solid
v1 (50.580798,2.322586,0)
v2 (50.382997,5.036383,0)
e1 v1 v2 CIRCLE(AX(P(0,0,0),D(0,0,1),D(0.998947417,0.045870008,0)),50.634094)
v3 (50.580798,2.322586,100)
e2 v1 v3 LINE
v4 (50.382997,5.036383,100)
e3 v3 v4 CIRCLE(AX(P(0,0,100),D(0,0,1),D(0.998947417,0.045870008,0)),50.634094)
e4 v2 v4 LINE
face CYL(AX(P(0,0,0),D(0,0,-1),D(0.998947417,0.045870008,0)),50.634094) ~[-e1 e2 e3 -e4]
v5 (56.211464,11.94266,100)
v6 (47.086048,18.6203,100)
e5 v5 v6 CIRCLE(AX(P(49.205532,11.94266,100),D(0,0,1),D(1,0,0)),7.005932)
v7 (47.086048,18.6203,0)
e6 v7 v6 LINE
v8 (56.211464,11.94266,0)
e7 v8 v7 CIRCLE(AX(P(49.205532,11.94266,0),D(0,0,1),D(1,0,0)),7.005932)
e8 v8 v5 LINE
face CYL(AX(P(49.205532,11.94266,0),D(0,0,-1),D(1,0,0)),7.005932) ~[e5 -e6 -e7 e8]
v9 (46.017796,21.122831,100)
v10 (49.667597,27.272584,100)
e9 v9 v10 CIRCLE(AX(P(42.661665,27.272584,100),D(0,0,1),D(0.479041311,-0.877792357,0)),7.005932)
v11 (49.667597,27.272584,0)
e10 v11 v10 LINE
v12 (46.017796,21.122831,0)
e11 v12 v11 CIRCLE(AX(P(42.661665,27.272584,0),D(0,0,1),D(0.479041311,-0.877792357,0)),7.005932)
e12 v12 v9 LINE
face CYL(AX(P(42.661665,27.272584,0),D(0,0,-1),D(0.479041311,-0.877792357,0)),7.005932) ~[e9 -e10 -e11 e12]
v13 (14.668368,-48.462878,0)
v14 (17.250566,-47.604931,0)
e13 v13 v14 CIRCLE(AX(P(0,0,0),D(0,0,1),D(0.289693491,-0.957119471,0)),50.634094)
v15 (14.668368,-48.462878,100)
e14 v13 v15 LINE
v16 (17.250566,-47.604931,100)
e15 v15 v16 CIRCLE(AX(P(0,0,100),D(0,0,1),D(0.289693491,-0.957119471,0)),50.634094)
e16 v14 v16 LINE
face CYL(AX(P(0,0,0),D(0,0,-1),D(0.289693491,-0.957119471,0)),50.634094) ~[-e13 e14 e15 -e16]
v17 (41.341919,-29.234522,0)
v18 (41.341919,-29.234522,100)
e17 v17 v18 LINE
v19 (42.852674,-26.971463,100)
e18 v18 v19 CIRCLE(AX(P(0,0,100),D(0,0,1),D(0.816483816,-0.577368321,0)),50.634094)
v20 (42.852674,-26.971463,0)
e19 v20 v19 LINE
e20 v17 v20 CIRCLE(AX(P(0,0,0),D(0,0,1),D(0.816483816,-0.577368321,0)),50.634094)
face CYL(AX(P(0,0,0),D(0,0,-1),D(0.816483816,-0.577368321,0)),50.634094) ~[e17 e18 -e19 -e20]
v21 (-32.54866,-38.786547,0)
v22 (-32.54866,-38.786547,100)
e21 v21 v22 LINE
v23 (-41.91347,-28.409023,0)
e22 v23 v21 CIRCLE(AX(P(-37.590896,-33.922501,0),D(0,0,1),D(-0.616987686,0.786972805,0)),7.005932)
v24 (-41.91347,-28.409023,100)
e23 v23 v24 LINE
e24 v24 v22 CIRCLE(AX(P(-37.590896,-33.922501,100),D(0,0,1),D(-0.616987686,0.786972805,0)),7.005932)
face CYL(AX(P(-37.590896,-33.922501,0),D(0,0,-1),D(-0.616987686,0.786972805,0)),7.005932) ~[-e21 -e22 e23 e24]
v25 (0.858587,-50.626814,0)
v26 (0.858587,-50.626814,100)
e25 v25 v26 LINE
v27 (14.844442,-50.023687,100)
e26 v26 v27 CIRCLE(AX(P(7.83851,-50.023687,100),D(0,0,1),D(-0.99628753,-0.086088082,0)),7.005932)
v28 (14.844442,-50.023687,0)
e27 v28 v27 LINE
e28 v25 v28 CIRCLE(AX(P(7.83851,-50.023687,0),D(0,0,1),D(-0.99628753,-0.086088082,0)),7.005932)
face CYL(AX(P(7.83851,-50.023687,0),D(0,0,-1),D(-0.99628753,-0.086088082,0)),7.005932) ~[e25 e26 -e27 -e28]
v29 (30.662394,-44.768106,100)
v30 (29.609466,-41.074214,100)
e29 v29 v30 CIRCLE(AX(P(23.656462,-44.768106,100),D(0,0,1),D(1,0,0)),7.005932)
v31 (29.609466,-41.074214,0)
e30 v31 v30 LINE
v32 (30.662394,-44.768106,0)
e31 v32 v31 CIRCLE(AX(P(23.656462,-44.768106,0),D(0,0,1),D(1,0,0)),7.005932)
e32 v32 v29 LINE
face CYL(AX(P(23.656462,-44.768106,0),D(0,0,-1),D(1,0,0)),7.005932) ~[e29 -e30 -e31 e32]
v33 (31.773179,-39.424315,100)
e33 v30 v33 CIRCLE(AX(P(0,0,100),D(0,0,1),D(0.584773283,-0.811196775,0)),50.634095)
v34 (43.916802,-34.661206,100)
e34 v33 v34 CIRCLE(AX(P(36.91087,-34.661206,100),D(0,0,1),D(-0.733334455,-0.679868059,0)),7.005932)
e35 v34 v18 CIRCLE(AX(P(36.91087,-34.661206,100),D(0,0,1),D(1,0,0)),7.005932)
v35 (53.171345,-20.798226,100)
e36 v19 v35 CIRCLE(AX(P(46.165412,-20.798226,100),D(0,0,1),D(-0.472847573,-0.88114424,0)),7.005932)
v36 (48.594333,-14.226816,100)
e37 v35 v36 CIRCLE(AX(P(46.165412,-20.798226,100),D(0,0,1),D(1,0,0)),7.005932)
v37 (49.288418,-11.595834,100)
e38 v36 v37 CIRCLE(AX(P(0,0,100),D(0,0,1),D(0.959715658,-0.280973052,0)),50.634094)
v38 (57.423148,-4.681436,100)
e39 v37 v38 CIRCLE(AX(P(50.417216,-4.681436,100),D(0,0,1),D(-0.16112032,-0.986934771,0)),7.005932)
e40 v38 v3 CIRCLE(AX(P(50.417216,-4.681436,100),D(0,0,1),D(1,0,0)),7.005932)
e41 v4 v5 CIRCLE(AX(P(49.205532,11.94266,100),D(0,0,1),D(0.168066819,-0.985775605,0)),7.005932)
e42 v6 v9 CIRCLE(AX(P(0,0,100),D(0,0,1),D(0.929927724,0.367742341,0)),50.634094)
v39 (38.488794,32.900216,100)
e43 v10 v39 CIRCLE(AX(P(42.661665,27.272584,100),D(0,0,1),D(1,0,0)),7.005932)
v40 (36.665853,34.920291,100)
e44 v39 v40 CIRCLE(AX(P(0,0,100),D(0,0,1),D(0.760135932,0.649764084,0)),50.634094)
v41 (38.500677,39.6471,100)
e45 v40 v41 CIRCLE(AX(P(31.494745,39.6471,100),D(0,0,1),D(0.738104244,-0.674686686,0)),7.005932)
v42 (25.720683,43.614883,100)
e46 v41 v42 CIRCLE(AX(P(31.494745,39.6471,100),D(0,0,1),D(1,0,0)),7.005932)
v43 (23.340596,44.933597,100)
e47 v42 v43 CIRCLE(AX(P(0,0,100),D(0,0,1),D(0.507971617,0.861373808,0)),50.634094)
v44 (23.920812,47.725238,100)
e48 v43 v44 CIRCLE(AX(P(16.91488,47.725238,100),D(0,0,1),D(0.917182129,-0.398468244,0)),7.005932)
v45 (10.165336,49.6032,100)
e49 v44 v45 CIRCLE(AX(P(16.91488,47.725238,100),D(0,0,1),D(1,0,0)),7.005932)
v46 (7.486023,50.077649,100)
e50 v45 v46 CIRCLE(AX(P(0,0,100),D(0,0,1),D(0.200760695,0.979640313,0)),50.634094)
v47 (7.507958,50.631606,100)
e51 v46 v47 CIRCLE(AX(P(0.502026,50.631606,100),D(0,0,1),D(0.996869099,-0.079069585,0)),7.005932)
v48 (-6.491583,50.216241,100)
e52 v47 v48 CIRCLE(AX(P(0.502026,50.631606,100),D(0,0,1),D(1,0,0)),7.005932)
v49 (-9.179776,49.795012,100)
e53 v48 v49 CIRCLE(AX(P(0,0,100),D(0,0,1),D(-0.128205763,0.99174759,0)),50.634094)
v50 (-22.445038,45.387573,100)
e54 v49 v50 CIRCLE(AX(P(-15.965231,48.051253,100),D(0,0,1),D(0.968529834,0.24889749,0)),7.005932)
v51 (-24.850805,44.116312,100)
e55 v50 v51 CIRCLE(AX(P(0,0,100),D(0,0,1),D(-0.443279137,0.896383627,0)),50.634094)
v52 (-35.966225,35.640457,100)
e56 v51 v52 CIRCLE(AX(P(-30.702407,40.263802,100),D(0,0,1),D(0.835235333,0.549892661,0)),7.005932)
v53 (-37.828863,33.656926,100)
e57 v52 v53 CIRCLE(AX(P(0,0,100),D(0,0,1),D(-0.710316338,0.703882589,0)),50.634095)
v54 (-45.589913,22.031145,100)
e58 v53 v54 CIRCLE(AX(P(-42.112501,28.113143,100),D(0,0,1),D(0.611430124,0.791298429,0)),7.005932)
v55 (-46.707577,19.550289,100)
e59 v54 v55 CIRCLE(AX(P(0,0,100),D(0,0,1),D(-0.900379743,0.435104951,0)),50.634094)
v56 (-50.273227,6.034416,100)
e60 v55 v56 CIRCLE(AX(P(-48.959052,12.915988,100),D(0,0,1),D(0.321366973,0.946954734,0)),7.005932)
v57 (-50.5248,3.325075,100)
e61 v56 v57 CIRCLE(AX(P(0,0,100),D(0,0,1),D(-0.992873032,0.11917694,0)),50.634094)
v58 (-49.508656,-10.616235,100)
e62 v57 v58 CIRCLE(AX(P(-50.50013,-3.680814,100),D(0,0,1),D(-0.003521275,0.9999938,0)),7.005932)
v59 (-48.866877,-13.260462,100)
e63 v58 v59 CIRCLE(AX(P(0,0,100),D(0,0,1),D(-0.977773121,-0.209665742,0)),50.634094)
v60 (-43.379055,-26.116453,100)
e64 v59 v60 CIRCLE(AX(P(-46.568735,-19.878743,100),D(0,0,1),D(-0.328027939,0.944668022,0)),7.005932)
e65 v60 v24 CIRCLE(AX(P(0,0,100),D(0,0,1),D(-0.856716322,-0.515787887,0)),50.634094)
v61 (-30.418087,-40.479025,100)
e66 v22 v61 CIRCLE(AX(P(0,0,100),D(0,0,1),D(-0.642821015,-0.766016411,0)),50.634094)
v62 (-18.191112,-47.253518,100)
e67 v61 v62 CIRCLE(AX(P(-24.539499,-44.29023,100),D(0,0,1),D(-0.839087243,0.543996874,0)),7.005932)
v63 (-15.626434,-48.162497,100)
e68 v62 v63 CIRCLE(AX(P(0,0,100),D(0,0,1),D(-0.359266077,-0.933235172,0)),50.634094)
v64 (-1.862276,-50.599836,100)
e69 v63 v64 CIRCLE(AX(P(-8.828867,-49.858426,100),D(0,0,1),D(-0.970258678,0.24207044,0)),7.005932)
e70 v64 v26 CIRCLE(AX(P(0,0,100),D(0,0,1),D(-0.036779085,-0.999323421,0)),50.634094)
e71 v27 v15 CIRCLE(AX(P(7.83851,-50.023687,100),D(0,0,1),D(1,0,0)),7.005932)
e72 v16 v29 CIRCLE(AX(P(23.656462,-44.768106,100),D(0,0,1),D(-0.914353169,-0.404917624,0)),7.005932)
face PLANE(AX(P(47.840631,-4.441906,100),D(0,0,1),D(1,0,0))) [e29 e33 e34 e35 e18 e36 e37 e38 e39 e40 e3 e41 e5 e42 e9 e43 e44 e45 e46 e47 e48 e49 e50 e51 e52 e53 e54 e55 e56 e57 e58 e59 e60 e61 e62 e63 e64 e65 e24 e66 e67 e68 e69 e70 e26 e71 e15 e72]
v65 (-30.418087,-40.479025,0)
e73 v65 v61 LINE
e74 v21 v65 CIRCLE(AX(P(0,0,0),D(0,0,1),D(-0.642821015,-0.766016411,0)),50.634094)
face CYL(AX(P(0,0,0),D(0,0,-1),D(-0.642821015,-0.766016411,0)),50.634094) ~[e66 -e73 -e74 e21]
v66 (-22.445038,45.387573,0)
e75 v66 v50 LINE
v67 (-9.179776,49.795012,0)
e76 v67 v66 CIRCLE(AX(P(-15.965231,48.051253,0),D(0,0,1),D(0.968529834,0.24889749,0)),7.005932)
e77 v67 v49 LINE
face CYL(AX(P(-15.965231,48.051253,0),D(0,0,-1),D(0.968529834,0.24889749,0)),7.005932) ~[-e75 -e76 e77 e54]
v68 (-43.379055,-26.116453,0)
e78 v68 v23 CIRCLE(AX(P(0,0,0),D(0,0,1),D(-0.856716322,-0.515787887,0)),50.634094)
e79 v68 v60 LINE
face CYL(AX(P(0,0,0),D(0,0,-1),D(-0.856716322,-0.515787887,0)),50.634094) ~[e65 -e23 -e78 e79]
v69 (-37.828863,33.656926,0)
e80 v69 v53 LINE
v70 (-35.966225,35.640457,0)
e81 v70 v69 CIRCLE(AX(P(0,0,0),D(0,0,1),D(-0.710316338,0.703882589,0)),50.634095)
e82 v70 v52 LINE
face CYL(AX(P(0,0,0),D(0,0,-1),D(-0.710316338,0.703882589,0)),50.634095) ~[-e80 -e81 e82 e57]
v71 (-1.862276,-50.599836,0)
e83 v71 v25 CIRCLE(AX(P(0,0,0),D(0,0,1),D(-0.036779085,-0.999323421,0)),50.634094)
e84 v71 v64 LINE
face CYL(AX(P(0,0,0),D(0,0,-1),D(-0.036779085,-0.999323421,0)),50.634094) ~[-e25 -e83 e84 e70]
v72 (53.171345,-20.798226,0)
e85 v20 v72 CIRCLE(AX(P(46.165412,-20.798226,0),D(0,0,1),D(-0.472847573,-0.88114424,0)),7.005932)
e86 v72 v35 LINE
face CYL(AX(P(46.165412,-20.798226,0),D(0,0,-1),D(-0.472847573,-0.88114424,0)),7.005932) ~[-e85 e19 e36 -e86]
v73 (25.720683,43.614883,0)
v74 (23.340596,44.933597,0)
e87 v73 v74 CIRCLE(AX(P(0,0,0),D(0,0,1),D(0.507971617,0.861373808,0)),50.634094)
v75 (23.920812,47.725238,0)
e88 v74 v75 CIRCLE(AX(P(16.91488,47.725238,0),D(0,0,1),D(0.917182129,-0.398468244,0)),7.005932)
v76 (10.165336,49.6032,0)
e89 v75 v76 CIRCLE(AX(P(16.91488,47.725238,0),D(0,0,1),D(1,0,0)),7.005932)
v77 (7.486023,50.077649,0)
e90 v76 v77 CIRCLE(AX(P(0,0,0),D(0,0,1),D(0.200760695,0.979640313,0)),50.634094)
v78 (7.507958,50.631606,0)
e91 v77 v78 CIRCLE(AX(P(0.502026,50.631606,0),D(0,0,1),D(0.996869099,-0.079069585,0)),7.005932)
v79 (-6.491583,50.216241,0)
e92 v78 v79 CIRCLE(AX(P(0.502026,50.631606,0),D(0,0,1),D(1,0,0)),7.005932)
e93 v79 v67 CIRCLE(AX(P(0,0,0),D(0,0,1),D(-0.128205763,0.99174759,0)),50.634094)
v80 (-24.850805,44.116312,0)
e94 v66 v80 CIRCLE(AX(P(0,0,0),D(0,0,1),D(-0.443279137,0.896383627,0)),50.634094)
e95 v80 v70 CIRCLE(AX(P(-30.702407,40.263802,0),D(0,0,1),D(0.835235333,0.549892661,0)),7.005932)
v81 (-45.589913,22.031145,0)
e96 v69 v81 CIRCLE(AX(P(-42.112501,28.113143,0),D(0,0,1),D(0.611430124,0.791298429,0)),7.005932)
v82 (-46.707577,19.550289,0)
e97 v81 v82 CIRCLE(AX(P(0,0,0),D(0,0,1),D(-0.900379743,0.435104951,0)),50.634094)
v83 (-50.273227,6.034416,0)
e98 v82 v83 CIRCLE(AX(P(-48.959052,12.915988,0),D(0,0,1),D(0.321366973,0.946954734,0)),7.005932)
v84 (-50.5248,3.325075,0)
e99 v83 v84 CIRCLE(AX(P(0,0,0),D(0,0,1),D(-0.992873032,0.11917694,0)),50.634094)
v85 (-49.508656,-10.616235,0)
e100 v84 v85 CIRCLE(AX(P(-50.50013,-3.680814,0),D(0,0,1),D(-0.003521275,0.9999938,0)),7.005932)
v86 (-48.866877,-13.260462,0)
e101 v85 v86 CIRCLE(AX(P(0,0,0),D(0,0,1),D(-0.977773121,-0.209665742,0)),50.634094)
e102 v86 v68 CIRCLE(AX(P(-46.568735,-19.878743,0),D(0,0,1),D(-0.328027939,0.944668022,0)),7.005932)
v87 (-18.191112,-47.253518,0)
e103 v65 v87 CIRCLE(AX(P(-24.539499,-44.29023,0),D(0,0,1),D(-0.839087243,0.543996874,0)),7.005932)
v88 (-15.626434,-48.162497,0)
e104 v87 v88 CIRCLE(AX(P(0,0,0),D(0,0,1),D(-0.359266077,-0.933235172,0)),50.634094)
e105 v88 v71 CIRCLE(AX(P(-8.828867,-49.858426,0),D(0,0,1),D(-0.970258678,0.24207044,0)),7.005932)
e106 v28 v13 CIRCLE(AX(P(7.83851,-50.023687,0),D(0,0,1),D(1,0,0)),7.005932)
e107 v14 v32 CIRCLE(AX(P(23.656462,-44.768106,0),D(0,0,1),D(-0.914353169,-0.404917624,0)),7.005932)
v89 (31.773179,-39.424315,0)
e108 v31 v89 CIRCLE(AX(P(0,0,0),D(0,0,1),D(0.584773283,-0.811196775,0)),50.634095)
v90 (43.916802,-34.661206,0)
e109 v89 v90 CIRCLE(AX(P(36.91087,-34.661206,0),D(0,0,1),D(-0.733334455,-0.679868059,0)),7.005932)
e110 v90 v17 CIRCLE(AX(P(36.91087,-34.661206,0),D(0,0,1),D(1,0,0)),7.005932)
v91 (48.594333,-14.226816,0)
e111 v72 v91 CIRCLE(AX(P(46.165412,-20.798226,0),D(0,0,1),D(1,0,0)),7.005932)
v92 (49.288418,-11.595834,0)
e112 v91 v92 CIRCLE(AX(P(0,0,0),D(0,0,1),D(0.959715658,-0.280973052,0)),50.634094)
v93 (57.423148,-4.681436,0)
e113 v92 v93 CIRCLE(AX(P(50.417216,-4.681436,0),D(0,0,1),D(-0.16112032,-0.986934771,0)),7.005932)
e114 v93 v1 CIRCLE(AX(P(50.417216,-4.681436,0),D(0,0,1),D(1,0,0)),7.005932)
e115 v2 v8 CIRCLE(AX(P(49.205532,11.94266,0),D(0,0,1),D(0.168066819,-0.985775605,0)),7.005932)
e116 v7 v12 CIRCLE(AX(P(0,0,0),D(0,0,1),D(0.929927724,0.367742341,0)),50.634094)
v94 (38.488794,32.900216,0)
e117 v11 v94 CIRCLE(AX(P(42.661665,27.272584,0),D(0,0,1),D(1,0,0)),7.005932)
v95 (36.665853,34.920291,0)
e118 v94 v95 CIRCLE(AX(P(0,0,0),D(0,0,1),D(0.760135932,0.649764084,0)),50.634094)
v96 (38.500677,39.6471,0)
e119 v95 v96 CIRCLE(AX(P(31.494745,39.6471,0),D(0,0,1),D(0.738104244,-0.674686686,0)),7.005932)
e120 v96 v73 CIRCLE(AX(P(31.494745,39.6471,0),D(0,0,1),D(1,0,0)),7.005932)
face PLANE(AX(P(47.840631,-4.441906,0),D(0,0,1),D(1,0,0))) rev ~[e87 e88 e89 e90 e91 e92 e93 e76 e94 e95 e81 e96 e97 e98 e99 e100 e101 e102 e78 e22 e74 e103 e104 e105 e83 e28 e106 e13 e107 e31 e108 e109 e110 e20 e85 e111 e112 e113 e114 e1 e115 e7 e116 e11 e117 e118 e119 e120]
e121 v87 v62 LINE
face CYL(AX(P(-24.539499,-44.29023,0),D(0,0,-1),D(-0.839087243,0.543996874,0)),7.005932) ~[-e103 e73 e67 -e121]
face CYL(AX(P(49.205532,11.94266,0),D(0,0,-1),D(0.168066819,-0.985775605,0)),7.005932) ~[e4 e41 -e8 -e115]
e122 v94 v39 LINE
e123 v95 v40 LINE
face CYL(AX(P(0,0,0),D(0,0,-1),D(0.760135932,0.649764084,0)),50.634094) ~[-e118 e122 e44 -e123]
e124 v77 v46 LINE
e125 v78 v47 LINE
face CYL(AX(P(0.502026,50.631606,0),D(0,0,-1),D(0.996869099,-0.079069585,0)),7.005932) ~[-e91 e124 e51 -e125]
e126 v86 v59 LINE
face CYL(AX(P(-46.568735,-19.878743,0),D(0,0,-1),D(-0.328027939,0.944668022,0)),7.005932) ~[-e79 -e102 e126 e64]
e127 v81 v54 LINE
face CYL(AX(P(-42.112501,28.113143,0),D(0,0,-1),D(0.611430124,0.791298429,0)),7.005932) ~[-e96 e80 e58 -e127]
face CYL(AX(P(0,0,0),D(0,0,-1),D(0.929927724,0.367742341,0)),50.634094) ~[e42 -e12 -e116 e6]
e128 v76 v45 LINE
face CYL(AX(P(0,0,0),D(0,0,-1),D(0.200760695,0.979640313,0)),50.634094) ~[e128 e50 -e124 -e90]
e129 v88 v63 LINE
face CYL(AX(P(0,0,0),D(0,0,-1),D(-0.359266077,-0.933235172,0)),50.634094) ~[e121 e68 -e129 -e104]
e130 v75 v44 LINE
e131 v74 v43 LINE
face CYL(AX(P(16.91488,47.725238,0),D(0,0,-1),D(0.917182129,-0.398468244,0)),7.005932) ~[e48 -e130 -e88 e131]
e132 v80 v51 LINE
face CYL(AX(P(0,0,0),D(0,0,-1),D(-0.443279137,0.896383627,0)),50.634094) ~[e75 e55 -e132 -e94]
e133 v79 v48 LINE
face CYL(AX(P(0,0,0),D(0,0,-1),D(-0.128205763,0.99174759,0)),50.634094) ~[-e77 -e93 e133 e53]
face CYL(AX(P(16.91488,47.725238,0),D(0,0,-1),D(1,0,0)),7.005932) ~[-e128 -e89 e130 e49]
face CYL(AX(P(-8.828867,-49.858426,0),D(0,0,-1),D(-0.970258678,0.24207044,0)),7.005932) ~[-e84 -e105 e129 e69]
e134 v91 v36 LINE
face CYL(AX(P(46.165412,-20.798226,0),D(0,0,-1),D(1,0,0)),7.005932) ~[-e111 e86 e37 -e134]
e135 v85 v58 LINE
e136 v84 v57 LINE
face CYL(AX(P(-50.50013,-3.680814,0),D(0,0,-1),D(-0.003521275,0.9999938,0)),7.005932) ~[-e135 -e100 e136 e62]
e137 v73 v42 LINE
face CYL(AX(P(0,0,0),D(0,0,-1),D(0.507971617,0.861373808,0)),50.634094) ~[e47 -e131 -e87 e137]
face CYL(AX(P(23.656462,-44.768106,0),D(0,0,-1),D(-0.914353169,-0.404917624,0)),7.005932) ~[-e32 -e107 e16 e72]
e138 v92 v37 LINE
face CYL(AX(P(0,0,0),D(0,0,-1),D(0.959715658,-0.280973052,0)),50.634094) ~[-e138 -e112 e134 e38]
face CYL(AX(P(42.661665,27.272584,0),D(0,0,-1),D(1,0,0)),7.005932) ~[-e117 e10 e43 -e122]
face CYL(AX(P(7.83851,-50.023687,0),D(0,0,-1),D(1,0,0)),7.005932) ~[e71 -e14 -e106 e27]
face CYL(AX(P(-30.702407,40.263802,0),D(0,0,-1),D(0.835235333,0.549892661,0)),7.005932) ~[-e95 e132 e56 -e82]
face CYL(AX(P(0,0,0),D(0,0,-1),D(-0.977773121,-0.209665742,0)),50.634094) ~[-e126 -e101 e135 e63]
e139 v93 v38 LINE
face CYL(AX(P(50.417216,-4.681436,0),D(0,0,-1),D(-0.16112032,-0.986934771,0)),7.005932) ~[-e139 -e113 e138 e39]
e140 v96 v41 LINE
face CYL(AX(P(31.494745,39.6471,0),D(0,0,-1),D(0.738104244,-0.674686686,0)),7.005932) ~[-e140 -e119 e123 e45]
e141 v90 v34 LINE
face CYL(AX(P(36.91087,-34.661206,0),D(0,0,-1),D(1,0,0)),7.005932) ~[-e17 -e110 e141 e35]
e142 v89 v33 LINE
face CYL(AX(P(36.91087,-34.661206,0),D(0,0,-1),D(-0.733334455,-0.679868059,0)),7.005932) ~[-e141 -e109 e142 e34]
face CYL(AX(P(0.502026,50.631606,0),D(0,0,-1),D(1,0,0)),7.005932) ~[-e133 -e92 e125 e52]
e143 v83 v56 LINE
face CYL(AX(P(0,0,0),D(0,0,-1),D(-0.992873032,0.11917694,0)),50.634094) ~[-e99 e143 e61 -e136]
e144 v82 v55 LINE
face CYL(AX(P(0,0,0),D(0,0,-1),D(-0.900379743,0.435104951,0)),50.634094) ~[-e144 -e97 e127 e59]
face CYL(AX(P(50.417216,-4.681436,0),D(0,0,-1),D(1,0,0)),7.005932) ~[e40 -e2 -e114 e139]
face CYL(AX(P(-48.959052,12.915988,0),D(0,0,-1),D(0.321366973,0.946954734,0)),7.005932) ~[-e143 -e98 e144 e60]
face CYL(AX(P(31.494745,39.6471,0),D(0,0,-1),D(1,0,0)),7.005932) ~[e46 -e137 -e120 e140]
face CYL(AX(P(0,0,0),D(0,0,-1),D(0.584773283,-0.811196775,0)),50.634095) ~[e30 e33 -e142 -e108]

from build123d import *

# Parameters (mm, degrees)
F1_DEPTH = 100


with BuildPart() as f1:
    # F0 (on Top) → F1 (new body)
    with BuildSketch(Plane.XY):
        with BuildLine():
            ThreePointArc((49.2884179596, -11.5958340243), (50.2965501676, -5.8368272994), (50.6340943603, 0))
            ThreePointArc((50.6340943603, 0), (50.6207684627, 1.161598866), (50.5807977844, 2.3225863122))
            ThreePointArc((50.5807977844, 2.3225863122), (43.4412919228, -4.0336940461), (49.2884179596, -11.5958340243))
        make_face()
        with BuildLine():
            ThreePointArc((50.5807977844, 2.3225863122), (50.6207684627, 1.161598866), (50.6340943603, 0))
            ThreePointArc((50.6340943603, 0), (50.2965501676, -5.8368272994), (49.2884179596, -11.5958340243))
            ThreePointArc((49.2884179596, -11.5958340243), (54.9545502266, -10.0195708321), (57.4231482248, -4.6814359106))
            ThreePointArc((57.4231482248, -4.6814359106), (55.4286593665, 0.2143297815), (50.5807977844, 2.3225863122))
        make_face()
        with BuildLine():
            ThreePointArc((49.2884179596, -11.5958340243), (43.4412919228, -4.0336940461), (50.5807977844, 2.3225863122))
            ThreePointArc((50.5807977844, 2.3225863122), (50.5001299163, 3.6808137845), (50.382996675, 5.0363833974))
            ThreePointArc((50.382996675, 5.0363833974), (42.397261218, 10.2902270524), (47.0860481007, 18.6203003719))
            ThreePointArc((47.0860481007, 18.6203003719), (46.5687353009, 19.8787425195), (46.017795928, 21.1228305304))
            ThreePointArc((46.017795928, 21.1228305304), (36.758829399, 23.4990423804), (38.48879449, 32.9002159627))
            ThreePointArc((38.48879449, 32.9002159627), (37.5908956273, 33.922501052), (36.6658529524, 34.9202912209))
            ThreePointArc((36.6658529524, 34.9202912209), (27.1370080426, 34.1613718412), (25.7206827811, 43.6148826544))
            ThreePointArc((25.7206827811, 43.6148826544), (24.5394991296, 44.2902302337), (23.3405958801, 44.9335965136))
            ThreePointArc((23.3405958801, 44.9335965136), (14.5744707907, 41.1217865948), (10.1653359954, 49.6032000559))
            ThreePointArc((10.1653359954, 49.6032000559), (8.8288671316, 49.8584257358), (7.4860230776, 50.0776494073))
            ThreePointArc((7.4860230776, 50.0776494073), (0.4325634824, 43.6260177006), (-6.4915826769, 50.2162410584))
            ThreePointArc((-6.4915826769, 50.2162410584), (-7.838509614, 50.0236871763), (-9.179776483, 49.795011953))
            ThreePointArc((-9.179776483, 49.795011953), (-9.0146366457, 48.9300740554), (-8.959298633, 48.0512530059))
            ThreePointArc((-8.959298633, 48.0512530059), (-14.6076596491, 41.1781105865), (-22.4450376388, 45.3875731569))
            ThreePointArc((-22.4450376388, 45.3875731569), (-23.656462216, 44.7681059138), (-24.8508048228, 44.1163123044))
            ThreePointArc((-24.8508048228, 44.1163123044), (-23.9912589829, 42.2746668759), (-23.696474734, 40.263801594))
            ThreePointArc((-23.696474734, 40.263801594), (-28.2320691914, 33.7078487551), (-35.966224502, 35.6404574432))
            ThreePointArc((-35.966224502, 35.6404574432), (-36.910870069, 34.6612057267), (-37.8288628601, 33.6569256825))
            ThreePointArc((-37.8288628601, 33.6569256825), (-35.8238617515, 31.2012008735), (-35.1065686444, 28.1131425222))
            ThreePointArc((-35.1065686444, 28.1131425222), (-38.5967809177, 22.0532085671), (-45.5899128668, 22.0311451468))
            ThreePointArc((-45.5899128668, 22.0311451468), (-46.1654124189, 20.7982260752), (-46.7075766311, 19.5502889219))
            ThreePointArc((-46.7075766311, 19.5502889219), (-43.2644592903, 16.9970054766), (-41.9531196433, 12.9159882377))
            ThreePointArc((-41.9531196433, 12.9159882377), (-44.4938494078, 7.5173723677), (-50.2732267722, 6.0344164253))
            ThreePointArc((-50.2732267722, 6.0344164253), (-50.417216003, 4.6814359106), (-50.5247997315, 3.3250750026))
            ThreePointArc((-50.5247997315, 3.3250750026), (-45.5549175223, 1.2818428301), (-43.4941976945, -3.6808137845))
            ThreePointArc((-43.4941976945, -3.6808137845), (-45.2072440334, -8.2708514016), (-49.5086564873, -10.6162349495))
            ThreePointArc((-49.5086564873, -10.6162349495), (-49.2055319295, -11.9426604748), (-48.8668768079, -13.2604623871))
            ThreePointArc((-48.8668768079, -13.2604623871), (-42.5077955906, -14.1698148649), (-39.5628030791, -19.8787425195))
            ThreePointArc((-39.5628030791, -19.8787425195), (-40.5925421217, -23.5349976229), (-43.3790550661, -26.1164525397))
            ThreePointArc((-43.3790550661, -26.1164525397), (-42.6616649689, -27.2725842883), (-41.9134695345, -28.4090229199))
            ThreePointArc((-41.9134695345, -28.4090229199), (-34.5250004498, -27.6230270218), (-30.5849634055, -33.922501052))
            ThreePointArc((-30.5849634055, -33.922501052), (-31.0944101229, -36.5452405336), (-32.548659933, -38.7865472586))
            ThreePointArc((-32.548659933, -38.7865472586), (-31.494744645, -39.6471004164), (-30.4180874825, -40.4790250079))
            ThreePointArc((-30.4180874825, -40.4790250079), (-22.5522781132, -37.5720430579), (-17.5335669078, -44.2902302337))
            ThreePointArc((-17.5335669078, -44.2902302337), (-17.6999284896, -45.8079125974), (-18.1911124518, -47.2535177468))
            ThreePointArc((-18.1911124518, -47.2535177468), (-16.9148800475, -47.7252380262), (-15.6264336665, -48.1624966395))
            ThreePointArc((-15.6264336665, -48.1624966395), (-7.9745264854, -42.9047800477), (-1.8229349098, -49.8584257358))
            ThreePointArc((-1.8229349098, -49.8584257358), (-1.8327770136, -50.229652563), (-1.8622756721, -50.5998363733))
            ThreePointArc((-1.8622756721, -50.5998363733), (-0.5020257355, -50.6316055626), (0.8585867063, -50.6268144421))
            ThreePointArc((0.8585867063, -50.6268144421), (6.7539426287, -43.1022132906), (14.6683675727, -48.4628775913))
            ThreePointArc((14.6683675727, -48.4628775913), (15.9652308548, -48.0512530059), (17.2505658872, -47.6049313439))
            ThreePointArc((17.2505658872, -47.6049313439), (20.3832611647, -38.5738148991), (29.6094655879, -41.0742140434))
            ThreePointArc((29.6094655879, -41.0742140434), (30.7024069558, -40.263801594), (31.7731785841, -39.424315268))
            ThreePointArc((31.7731785841, -39.424315268), (31.8037370746, -29.8653451289), (41.3419185685, -29.2345220717))
            ThreePointArc((41.3419185685, -29.2345220717), (42.1125008662, -28.1131425222), (42.8526743697, -26.9714629015))
            ThreePointArc((42.8526743697, -26.9714629015), (39.7777845866, -17.9205018054), (48.5943331862, -14.2268160132))
            ThreePointArc((48.5943331862, -14.2268160132), (48.9590518651, -12.9159882377), (49.2884179596, -11.5958340243))
        make_face()
        with BuildLine():
            ThreePointArc((47.0860481007, 18.6203003719), (42.397261218, 10.2902270524), (50.382996675, 5.0363833974))
            ThreePointArc((50.382996675, 5.0363833974), (49.2055319295, 11.9426604748), (47.0860481007, 18.6203003719))
        make_face()
        with BuildLine():
            ThreePointArc((47.0860481007, 18.6203003719), (49.2055319295, 11.9426604748), (50.382996675, 5.0363833974))
            ThreePointArc((50.382996675, 5.0363833974), (54.5596109585, 7.4241514233), (56.2114641513, 11.9426604748))
            ThreePointArc((56.2114641513, 11.9426604748), (53.3428091892, 17.5965107711), (47.0860481007, 18.6203003719))
        make_face()
        with BuildLine():
            ThreePointArc((53.1713446407, -20.7982260752), (51.914322775, -16.7940887131), (48.5943331862, -14.2268160132))
            ThreePointArc((48.5943331862, -14.2268160132), (46.1654124189, -20.7982260752), (42.8526743697, -26.9714629015))
            ThreePointArc((42.8526743697, -26.9714629015), (49.7622351874, -26.8103764616), (53.1713446407, -20.7982260752))
        make_face()
        with BuildLine():
            ThreePointArc((42.8526743697, -26.9714629015), (46.1654124189, -20.7982260752), (48.5943331862, -14.2268160132))
            ThreePointArc((48.5943331862, -14.2268160132), (39.7777845866, -17.9205018054), (42.8526743697, -26.9714629015))
        make_face()
        with BuildLine():
            ThreePointArc((38.48879449, 32.9002159627), (36.758829399, 23.4990423804), (46.017795928, 21.1228305304))
            ThreePointArc((46.017795928, 21.1228305304), (42.6616649689, 27.2725842883), (38.48879449, 32.9002159627))
        make_face()
        with BuildLine():
            ThreePointArc((38.48879449, 32.9002159627), (42.6616649689, 27.2725842883), (46.017795928, 21.1228305304))
            ThreePointArc((46.017795928, 21.1228305304), (48.6864434845, 23.696954255), (49.6675971907, 27.2725842883))
            ThreePointArc((49.6675971907, 27.2725842883), (45.8119219863, 33.5302968912), (38.48879449, 32.9002159627))
        make_face()
        with BuildLine():
            ThreePointArc((43.9168022908, -34.6612057267), (43.2404321295, -31.6579191239), (41.3419185685, -29.2345220717))
            ThreePointArc((41.3419185685, -29.2345220717), (36.910870069, -34.6612057267), (31.7731785841, -39.424315268))
            ThreePointArc((31.7731785841, -39.424315268), (39.4690694335, -41.183375788), (43.9168022908, -34.6612057267))
        make_face()
        with BuildLine():
            ThreePointArc((31.7731785841, -39.424315268), (36.910870069, -34.6612057267), (41.3419185685, -29.2345220717))
            ThreePointArc((41.3419185685, -29.2345220717), (31.8037370746, -29.8653451289), (31.7731785841, -39.424315268))
        make_face()
        with BuildLine():
            ThreePointArc((25.7206827811, 43.6148826544), (27.1370080426, 34.1613718412), (36.6658529524, 34.9202912209))
            ThreePointArc((36.6658529524, 34.9202912209), (31.494744645, 39.6471004164), (25.7206827811, 43.6148826544))
        make_face()
        with BuildLine():
            ThreePointArc((25.7206827811, 43.6148826544), (31.494744645, 39.6471004164), (36.6658529524, 34.9202912209))
            ThreePointArc((36.6658529524, 34.9202912209), (38.0258823947, 37.1118832675), (38.5006768668, 39.6471004164))
            ThreePointArc((38.5006768668, 39.6471004164), (33.5720506207, 46.3379812388), (25.7206827811, 43.6148826544))
        make_face()
        with BuildLine():
            ThreePointArc((30.6623944378, -44.7681059138), (30.3940220279, -42.8475918997), (29.6094655879, -41.0742140434))
            ThreePointArc((29.6094655879, -41.0742140434), (23.656462216, -44.7681059138), (17.2505658872, -47.6049313439))
            ThreePointArc((17.2505658872, -47.6049313439), (25.1062571665, -51.6223878527), (30.6623944378, -44.7681059138))
        make_face()
        with BuildLine():
            ThreePointArc((17.2505658872, -47.6049313439), (23.656462216, -44.7681059138), (29.6094655879, -41.0742140434))
            ThreePointArc((29.6094655879, -41.0742140434), (20.3832611647, -38.5738148991), (17.2505658872, -47.6049313439))
        make_face()
        with BuildLine():
            ThreePointArc((10.1653359954, 49.6032000559), (14.5744707907, 41.1217865948), (23.3405958801, 44.9335965136))
            ThreePointArc((23.3405958801, 44.9335965136), (16.9148800475, 47.7252380262), (10.1653359954, 49.6032000559))
        make_face()
        with BuildLine():
            ThreePointArc((10.1653359954, 49.6032000559), (16.9148800475, 47.7252380262), (23.3405958801, 44.9335965136))
            ThreePointArc((23.3405958801, 44.9335965136), (23.7742246188, 46.2995878769), (23.9208122693, 47.7252380262))
            ThreePointArc((23.9208122693, 47.7252380262), (17.8625714897, 54.6667772811), (10.1653359954, 49.6032000559))
        make_face()
        with BuildLine():
            ThreePointArc((14.8444418358, -50.0236871763), (14.8002841091, -49.2383323669), (14.6683675727, -48.4628775913))
            ThreePointArc((14.6683675727, -48.4628775913), (7.838509614, -50.0236871763), (0.8585867063, -50.6268144421))
            ThreePointArc((0.8585867063, -50.6268144421), (8.1403535237, -57.0231140493), (14.8444418358, -50.0236871763))
        make_face()
        with BuildLine():
            ThreePointArc((0.8585867063, -50.6268144421), (7.838509614, -50.0236871763), (14.6683675727, -48.4628775913))
            ThreePointArc((14.6683675727, -48.4628775913), (6.7539426287, -43.1022132906), (0.8585867063, -50.6268144421))
        make_face()
        with BuildLine():
            ThreePointArc((-6.4915826769, 50.2162410584), (0.4325634824, 43.6260177006), (7.4860230776, 50.0776494073))
            ThreePointArc((7.4860230776, 50.0776494073), (0.5020257355, 50.6316055626), (-6.4915826769, 50.2162410584))
        make_face()
        with BuildLine():
            ThreePointArc((-6.4915826769, 50.2162410584), (0.5020257355, 50.6316055626), (7.4860230776, 50.0776494073))
            ThreePointArc((7.4860230776, 50.0776494073), (7.5024720895, 50.3544104324), (7.5079579573, 50.6316055626))
            ThreePointArc((7.5079579573, 50.6316055626), (0.294252092, 57.6344561543), (-6.4915826769, 50.2162410584))
        make_face()
        with BuildLine():
            ThreePointArc((-15.6264336665, -48.1624966395), (-10.0504638739, -56.7570333994), (-1.8622756721, -50.5998363733))
            ThreePointArc((-1.8622756721, -50.5998363733), (-8.8288671316, -49.8584257358), (-15.6264336665, -48.1624966395))
        make_face()
        with BuildLine():
            ThreePointArc((-15.6264336665, -48.1624966395), (-8.8288671316, -49.8584257358), (-1.8622756721, -50.5998363733))
            ThreePointArc((-1.8622756721, -50.5998363733), (-1.8327770136, -50.229652563), (-1.8229349098, -49.8584257358))
            ThreePointArc((-1.8229349098, -49.8584257358), (-7.9745264854, -42.9047800477), (-15.6264336665, -48.1624966395))
        make_face()
        with BuildLine():
            ThreePointArc((-8.959298633, 48.0512530059), (-9.0146366457, 48.9300740554), (-9.179776483, 49.795011953))
            ThreePointArc((-9.179776483, 49.795011953), (-15.9652308548, 48.0512530059), (-22.4450376388, 45.3875731569))
            ThreePointArc((-22.4450376388, 45.3875731569), (-14.6076596491, 41.1781105865), (-8.959298633, 48.0512530059))
        make_face()
        with BuildLine():
            ThreePointArc((-22.4450376388, 45.3875731569), (-15.9652308548, 48.0512530059), (-9.179776483, 49.795011953))
            ThreePointArc((-9.179776483, 49.795011953), (-18.1742429184, 54.6998131507), (-22.4450376388, 45.3875731569))
        make_face()
        with BuildLine():
            ThreePointArc((-30.4180874825, -40.4790250079), (-27.9348806374, -50.4184004918), (-18.1911124518, -47.2535177468))
            ThreePointArc((-18.1911124518, -47.2535177468), (-24.5394991296, -44.2902302337), (-30.4180874825, -40.4790250079))
        make_face()
        with BuildLine():
            ThreePointArc((-30.4180874825, -40.4790250079), (-24.5394991296, -44.2902302337), (-18.1911124518, -47.2535177468))
            ThreePointArc((-18.1911124518, -47.2535177468), (-17.6999284896, -45.8079125974), (-17.5335669078, -44.2902302337))
            ThreePointArc((-17.5335669078, -44.2902302337), (-22.5522781132, -37.5720430579), (-30.4180874825, -40.4790250079))
        make_face()
        with BuildLine():
            ThreePointArc((-23.696474734, 40.263801594), (-23.9912589829, 42.2746668759), (-24.8508048228, 44.1163123044))
            ThreePointArc((-24.8508048228, 44.1163123044), (-30.7024069558, 40.263801594), (-35.966224502, 35.6404574432))
            ThreePointArc((-35.966224502, 35.6404574432), (-28.2320691914, 33.7078487551), (-23.696474734, 40.263801594))
        make_face()
        with BuildLine():
            ThreePointArc((-35.966224502, 35.6404574432), (-30.7024069558, 40.263801594), (-24.8508048228, 44.1163123044))
            ThreePointArc((-24.8508048228, 44.1163123044), (-34.9505126027, 45.8348593669), (-35.966224502, 35.6404574432))
        make_face()
        with BuildLine():
            ThreePointArc((-41.9134695345, -28.4090229199), (-42.7921196296, -38.6161515688), (-32.548659933, -38.7865472586))
            ThreePointArc((-32.548659933, -38.7865472586), (-37.5908956273, -33.922501052), (-41.9134695345, -28.4090229199))
        make_face()
        with BuildLine():
            ThreePointArc((-41.9134695345, -28.4090229199), (-37.5908956273, -33.922501052), (-32.548659933, -38.7865472586))
            ThreePointArc((-32.548659933, -38.7865472586), (-31.0944101229, -36.5452405336), (-30.5849634055, -33.922501052))
            ThreePointArc((-30.5849634055, -33.922501052), (-34.5250004498, -27.6230270218), (-41.9134695345, -28.4090229199))
        make_face()
        with BuildLine():
            ThreePointArc((-35.1065686444, 28.1131425222), (-35.8238617515, 31.2012008735), (-37.8288628601, 33.6569256825))
            ThreePointArc((-37.8288628601, 33.6569256825), (-42.1125008662, 28.1131425222), (-45.5899128668, 22.0311451468))
            ThreePointArc((-45.5899128668, 22.0311451468), (-38.5967809177, 22.0532085671), (-35.1065686444, 28.1131425222))
        make_face()
        with BuildLine():
            ThreePointArc((-45.5899128668, 22.0311451468), (-42.1125008662, 28.1131425222), (-37.8288628601, 33.6569256825))
            ThreePointArc((-37.8288628601, 33.6569256825), (-47.9393519334, 32.0029873696), (-45.5899128668, 22.0311451468))
        make_face()
        with BuildLine():
            ThreePointArc((-48.8668768079, -13.2604623871), (-53.0121684717, -22.6292434321), (-43.3790550661, -26.1164525397))
            ThreePointArc((-43.3790550661, -26.1164525397), (-46.5687353009, -19.8787425195), (-48.8668768079, -13.2604623871))
        make_face()
        with BuildLine():
            ThreePointArc((-48.8668768079, -13.2604623871), (-46.5687353009, -19.8787425195), (-43.3790550661, -26.1164525397))
            ThreePointArc((-43.3790550661, -26.1164525397), (-40.5925421217, -23.5349976229), (-39.5628030791, -19.8787425195))
            ThreePointArc((-39.5628030791, -19.8787425195), (-42.5077955906, -14.1698148649), (-48.8668768079, -13.2604623871))
        make_face()
        with BuildLine():
            ThreePointArc((-41.9531196433, 12.9159882377), (-43.2644592903, 16.9970054766), (-46.7075766311, 19.5502889219))
            ThreePointArc((-46.7075766311, 19.5502889219), (-48.9590518651, 12.9159882377), (-50.2732267722, 6.0344164253))
            ThreePointArc((-50.2732267722, 6.0344164253), (-44.4938494078, 7.5173723677), (-41.9531196433, 12.9159882377))
        make_face()
        with BuildLine():
            ThreePointArc((-50.2732267722, 6.0344164253), (-48.9590518651, 12.9159882377), (-46.7075766311, 19.5502889219))
            ThreePointArc((-46.7075766311, 19.5502889219), (-55.7332186265, 14.7030951133), (-50.2732267722, 6.0344164253))
        make_face()
        with BuildLine():
            ThreePointArc((-50.5247997315, 3.3250750026), (-57.4875262914, -4.1901056405), (-49.5086564873, -10.6162349495))
            ThreePointArc((-49.5086564873, -10.6162349495), (-50.5001299163, -3.6808137845), (-50.5247997315, 3.3250750026))
        make_face()
        with BuildLine():
            ThreePointArc((-50.5247997315, 3.3250750026), (-50.5001299163, -3.6808137845), (-49.5086564873, -10.6162349495))
            ThreePointArc((-49.5086564873, -10.6162349495), (-45.2072440334, -8.2708514016), (-43.4941976945, -3.6808137845))
            ThreePointArc((-43.4941976945, -3.6808137845), (-45.5549175223, 1.2818428301), (-50.5247997315, 3.3250750026))
        make_face()
    extrude(amount=F1_DEPTH)


solid = f1.part
